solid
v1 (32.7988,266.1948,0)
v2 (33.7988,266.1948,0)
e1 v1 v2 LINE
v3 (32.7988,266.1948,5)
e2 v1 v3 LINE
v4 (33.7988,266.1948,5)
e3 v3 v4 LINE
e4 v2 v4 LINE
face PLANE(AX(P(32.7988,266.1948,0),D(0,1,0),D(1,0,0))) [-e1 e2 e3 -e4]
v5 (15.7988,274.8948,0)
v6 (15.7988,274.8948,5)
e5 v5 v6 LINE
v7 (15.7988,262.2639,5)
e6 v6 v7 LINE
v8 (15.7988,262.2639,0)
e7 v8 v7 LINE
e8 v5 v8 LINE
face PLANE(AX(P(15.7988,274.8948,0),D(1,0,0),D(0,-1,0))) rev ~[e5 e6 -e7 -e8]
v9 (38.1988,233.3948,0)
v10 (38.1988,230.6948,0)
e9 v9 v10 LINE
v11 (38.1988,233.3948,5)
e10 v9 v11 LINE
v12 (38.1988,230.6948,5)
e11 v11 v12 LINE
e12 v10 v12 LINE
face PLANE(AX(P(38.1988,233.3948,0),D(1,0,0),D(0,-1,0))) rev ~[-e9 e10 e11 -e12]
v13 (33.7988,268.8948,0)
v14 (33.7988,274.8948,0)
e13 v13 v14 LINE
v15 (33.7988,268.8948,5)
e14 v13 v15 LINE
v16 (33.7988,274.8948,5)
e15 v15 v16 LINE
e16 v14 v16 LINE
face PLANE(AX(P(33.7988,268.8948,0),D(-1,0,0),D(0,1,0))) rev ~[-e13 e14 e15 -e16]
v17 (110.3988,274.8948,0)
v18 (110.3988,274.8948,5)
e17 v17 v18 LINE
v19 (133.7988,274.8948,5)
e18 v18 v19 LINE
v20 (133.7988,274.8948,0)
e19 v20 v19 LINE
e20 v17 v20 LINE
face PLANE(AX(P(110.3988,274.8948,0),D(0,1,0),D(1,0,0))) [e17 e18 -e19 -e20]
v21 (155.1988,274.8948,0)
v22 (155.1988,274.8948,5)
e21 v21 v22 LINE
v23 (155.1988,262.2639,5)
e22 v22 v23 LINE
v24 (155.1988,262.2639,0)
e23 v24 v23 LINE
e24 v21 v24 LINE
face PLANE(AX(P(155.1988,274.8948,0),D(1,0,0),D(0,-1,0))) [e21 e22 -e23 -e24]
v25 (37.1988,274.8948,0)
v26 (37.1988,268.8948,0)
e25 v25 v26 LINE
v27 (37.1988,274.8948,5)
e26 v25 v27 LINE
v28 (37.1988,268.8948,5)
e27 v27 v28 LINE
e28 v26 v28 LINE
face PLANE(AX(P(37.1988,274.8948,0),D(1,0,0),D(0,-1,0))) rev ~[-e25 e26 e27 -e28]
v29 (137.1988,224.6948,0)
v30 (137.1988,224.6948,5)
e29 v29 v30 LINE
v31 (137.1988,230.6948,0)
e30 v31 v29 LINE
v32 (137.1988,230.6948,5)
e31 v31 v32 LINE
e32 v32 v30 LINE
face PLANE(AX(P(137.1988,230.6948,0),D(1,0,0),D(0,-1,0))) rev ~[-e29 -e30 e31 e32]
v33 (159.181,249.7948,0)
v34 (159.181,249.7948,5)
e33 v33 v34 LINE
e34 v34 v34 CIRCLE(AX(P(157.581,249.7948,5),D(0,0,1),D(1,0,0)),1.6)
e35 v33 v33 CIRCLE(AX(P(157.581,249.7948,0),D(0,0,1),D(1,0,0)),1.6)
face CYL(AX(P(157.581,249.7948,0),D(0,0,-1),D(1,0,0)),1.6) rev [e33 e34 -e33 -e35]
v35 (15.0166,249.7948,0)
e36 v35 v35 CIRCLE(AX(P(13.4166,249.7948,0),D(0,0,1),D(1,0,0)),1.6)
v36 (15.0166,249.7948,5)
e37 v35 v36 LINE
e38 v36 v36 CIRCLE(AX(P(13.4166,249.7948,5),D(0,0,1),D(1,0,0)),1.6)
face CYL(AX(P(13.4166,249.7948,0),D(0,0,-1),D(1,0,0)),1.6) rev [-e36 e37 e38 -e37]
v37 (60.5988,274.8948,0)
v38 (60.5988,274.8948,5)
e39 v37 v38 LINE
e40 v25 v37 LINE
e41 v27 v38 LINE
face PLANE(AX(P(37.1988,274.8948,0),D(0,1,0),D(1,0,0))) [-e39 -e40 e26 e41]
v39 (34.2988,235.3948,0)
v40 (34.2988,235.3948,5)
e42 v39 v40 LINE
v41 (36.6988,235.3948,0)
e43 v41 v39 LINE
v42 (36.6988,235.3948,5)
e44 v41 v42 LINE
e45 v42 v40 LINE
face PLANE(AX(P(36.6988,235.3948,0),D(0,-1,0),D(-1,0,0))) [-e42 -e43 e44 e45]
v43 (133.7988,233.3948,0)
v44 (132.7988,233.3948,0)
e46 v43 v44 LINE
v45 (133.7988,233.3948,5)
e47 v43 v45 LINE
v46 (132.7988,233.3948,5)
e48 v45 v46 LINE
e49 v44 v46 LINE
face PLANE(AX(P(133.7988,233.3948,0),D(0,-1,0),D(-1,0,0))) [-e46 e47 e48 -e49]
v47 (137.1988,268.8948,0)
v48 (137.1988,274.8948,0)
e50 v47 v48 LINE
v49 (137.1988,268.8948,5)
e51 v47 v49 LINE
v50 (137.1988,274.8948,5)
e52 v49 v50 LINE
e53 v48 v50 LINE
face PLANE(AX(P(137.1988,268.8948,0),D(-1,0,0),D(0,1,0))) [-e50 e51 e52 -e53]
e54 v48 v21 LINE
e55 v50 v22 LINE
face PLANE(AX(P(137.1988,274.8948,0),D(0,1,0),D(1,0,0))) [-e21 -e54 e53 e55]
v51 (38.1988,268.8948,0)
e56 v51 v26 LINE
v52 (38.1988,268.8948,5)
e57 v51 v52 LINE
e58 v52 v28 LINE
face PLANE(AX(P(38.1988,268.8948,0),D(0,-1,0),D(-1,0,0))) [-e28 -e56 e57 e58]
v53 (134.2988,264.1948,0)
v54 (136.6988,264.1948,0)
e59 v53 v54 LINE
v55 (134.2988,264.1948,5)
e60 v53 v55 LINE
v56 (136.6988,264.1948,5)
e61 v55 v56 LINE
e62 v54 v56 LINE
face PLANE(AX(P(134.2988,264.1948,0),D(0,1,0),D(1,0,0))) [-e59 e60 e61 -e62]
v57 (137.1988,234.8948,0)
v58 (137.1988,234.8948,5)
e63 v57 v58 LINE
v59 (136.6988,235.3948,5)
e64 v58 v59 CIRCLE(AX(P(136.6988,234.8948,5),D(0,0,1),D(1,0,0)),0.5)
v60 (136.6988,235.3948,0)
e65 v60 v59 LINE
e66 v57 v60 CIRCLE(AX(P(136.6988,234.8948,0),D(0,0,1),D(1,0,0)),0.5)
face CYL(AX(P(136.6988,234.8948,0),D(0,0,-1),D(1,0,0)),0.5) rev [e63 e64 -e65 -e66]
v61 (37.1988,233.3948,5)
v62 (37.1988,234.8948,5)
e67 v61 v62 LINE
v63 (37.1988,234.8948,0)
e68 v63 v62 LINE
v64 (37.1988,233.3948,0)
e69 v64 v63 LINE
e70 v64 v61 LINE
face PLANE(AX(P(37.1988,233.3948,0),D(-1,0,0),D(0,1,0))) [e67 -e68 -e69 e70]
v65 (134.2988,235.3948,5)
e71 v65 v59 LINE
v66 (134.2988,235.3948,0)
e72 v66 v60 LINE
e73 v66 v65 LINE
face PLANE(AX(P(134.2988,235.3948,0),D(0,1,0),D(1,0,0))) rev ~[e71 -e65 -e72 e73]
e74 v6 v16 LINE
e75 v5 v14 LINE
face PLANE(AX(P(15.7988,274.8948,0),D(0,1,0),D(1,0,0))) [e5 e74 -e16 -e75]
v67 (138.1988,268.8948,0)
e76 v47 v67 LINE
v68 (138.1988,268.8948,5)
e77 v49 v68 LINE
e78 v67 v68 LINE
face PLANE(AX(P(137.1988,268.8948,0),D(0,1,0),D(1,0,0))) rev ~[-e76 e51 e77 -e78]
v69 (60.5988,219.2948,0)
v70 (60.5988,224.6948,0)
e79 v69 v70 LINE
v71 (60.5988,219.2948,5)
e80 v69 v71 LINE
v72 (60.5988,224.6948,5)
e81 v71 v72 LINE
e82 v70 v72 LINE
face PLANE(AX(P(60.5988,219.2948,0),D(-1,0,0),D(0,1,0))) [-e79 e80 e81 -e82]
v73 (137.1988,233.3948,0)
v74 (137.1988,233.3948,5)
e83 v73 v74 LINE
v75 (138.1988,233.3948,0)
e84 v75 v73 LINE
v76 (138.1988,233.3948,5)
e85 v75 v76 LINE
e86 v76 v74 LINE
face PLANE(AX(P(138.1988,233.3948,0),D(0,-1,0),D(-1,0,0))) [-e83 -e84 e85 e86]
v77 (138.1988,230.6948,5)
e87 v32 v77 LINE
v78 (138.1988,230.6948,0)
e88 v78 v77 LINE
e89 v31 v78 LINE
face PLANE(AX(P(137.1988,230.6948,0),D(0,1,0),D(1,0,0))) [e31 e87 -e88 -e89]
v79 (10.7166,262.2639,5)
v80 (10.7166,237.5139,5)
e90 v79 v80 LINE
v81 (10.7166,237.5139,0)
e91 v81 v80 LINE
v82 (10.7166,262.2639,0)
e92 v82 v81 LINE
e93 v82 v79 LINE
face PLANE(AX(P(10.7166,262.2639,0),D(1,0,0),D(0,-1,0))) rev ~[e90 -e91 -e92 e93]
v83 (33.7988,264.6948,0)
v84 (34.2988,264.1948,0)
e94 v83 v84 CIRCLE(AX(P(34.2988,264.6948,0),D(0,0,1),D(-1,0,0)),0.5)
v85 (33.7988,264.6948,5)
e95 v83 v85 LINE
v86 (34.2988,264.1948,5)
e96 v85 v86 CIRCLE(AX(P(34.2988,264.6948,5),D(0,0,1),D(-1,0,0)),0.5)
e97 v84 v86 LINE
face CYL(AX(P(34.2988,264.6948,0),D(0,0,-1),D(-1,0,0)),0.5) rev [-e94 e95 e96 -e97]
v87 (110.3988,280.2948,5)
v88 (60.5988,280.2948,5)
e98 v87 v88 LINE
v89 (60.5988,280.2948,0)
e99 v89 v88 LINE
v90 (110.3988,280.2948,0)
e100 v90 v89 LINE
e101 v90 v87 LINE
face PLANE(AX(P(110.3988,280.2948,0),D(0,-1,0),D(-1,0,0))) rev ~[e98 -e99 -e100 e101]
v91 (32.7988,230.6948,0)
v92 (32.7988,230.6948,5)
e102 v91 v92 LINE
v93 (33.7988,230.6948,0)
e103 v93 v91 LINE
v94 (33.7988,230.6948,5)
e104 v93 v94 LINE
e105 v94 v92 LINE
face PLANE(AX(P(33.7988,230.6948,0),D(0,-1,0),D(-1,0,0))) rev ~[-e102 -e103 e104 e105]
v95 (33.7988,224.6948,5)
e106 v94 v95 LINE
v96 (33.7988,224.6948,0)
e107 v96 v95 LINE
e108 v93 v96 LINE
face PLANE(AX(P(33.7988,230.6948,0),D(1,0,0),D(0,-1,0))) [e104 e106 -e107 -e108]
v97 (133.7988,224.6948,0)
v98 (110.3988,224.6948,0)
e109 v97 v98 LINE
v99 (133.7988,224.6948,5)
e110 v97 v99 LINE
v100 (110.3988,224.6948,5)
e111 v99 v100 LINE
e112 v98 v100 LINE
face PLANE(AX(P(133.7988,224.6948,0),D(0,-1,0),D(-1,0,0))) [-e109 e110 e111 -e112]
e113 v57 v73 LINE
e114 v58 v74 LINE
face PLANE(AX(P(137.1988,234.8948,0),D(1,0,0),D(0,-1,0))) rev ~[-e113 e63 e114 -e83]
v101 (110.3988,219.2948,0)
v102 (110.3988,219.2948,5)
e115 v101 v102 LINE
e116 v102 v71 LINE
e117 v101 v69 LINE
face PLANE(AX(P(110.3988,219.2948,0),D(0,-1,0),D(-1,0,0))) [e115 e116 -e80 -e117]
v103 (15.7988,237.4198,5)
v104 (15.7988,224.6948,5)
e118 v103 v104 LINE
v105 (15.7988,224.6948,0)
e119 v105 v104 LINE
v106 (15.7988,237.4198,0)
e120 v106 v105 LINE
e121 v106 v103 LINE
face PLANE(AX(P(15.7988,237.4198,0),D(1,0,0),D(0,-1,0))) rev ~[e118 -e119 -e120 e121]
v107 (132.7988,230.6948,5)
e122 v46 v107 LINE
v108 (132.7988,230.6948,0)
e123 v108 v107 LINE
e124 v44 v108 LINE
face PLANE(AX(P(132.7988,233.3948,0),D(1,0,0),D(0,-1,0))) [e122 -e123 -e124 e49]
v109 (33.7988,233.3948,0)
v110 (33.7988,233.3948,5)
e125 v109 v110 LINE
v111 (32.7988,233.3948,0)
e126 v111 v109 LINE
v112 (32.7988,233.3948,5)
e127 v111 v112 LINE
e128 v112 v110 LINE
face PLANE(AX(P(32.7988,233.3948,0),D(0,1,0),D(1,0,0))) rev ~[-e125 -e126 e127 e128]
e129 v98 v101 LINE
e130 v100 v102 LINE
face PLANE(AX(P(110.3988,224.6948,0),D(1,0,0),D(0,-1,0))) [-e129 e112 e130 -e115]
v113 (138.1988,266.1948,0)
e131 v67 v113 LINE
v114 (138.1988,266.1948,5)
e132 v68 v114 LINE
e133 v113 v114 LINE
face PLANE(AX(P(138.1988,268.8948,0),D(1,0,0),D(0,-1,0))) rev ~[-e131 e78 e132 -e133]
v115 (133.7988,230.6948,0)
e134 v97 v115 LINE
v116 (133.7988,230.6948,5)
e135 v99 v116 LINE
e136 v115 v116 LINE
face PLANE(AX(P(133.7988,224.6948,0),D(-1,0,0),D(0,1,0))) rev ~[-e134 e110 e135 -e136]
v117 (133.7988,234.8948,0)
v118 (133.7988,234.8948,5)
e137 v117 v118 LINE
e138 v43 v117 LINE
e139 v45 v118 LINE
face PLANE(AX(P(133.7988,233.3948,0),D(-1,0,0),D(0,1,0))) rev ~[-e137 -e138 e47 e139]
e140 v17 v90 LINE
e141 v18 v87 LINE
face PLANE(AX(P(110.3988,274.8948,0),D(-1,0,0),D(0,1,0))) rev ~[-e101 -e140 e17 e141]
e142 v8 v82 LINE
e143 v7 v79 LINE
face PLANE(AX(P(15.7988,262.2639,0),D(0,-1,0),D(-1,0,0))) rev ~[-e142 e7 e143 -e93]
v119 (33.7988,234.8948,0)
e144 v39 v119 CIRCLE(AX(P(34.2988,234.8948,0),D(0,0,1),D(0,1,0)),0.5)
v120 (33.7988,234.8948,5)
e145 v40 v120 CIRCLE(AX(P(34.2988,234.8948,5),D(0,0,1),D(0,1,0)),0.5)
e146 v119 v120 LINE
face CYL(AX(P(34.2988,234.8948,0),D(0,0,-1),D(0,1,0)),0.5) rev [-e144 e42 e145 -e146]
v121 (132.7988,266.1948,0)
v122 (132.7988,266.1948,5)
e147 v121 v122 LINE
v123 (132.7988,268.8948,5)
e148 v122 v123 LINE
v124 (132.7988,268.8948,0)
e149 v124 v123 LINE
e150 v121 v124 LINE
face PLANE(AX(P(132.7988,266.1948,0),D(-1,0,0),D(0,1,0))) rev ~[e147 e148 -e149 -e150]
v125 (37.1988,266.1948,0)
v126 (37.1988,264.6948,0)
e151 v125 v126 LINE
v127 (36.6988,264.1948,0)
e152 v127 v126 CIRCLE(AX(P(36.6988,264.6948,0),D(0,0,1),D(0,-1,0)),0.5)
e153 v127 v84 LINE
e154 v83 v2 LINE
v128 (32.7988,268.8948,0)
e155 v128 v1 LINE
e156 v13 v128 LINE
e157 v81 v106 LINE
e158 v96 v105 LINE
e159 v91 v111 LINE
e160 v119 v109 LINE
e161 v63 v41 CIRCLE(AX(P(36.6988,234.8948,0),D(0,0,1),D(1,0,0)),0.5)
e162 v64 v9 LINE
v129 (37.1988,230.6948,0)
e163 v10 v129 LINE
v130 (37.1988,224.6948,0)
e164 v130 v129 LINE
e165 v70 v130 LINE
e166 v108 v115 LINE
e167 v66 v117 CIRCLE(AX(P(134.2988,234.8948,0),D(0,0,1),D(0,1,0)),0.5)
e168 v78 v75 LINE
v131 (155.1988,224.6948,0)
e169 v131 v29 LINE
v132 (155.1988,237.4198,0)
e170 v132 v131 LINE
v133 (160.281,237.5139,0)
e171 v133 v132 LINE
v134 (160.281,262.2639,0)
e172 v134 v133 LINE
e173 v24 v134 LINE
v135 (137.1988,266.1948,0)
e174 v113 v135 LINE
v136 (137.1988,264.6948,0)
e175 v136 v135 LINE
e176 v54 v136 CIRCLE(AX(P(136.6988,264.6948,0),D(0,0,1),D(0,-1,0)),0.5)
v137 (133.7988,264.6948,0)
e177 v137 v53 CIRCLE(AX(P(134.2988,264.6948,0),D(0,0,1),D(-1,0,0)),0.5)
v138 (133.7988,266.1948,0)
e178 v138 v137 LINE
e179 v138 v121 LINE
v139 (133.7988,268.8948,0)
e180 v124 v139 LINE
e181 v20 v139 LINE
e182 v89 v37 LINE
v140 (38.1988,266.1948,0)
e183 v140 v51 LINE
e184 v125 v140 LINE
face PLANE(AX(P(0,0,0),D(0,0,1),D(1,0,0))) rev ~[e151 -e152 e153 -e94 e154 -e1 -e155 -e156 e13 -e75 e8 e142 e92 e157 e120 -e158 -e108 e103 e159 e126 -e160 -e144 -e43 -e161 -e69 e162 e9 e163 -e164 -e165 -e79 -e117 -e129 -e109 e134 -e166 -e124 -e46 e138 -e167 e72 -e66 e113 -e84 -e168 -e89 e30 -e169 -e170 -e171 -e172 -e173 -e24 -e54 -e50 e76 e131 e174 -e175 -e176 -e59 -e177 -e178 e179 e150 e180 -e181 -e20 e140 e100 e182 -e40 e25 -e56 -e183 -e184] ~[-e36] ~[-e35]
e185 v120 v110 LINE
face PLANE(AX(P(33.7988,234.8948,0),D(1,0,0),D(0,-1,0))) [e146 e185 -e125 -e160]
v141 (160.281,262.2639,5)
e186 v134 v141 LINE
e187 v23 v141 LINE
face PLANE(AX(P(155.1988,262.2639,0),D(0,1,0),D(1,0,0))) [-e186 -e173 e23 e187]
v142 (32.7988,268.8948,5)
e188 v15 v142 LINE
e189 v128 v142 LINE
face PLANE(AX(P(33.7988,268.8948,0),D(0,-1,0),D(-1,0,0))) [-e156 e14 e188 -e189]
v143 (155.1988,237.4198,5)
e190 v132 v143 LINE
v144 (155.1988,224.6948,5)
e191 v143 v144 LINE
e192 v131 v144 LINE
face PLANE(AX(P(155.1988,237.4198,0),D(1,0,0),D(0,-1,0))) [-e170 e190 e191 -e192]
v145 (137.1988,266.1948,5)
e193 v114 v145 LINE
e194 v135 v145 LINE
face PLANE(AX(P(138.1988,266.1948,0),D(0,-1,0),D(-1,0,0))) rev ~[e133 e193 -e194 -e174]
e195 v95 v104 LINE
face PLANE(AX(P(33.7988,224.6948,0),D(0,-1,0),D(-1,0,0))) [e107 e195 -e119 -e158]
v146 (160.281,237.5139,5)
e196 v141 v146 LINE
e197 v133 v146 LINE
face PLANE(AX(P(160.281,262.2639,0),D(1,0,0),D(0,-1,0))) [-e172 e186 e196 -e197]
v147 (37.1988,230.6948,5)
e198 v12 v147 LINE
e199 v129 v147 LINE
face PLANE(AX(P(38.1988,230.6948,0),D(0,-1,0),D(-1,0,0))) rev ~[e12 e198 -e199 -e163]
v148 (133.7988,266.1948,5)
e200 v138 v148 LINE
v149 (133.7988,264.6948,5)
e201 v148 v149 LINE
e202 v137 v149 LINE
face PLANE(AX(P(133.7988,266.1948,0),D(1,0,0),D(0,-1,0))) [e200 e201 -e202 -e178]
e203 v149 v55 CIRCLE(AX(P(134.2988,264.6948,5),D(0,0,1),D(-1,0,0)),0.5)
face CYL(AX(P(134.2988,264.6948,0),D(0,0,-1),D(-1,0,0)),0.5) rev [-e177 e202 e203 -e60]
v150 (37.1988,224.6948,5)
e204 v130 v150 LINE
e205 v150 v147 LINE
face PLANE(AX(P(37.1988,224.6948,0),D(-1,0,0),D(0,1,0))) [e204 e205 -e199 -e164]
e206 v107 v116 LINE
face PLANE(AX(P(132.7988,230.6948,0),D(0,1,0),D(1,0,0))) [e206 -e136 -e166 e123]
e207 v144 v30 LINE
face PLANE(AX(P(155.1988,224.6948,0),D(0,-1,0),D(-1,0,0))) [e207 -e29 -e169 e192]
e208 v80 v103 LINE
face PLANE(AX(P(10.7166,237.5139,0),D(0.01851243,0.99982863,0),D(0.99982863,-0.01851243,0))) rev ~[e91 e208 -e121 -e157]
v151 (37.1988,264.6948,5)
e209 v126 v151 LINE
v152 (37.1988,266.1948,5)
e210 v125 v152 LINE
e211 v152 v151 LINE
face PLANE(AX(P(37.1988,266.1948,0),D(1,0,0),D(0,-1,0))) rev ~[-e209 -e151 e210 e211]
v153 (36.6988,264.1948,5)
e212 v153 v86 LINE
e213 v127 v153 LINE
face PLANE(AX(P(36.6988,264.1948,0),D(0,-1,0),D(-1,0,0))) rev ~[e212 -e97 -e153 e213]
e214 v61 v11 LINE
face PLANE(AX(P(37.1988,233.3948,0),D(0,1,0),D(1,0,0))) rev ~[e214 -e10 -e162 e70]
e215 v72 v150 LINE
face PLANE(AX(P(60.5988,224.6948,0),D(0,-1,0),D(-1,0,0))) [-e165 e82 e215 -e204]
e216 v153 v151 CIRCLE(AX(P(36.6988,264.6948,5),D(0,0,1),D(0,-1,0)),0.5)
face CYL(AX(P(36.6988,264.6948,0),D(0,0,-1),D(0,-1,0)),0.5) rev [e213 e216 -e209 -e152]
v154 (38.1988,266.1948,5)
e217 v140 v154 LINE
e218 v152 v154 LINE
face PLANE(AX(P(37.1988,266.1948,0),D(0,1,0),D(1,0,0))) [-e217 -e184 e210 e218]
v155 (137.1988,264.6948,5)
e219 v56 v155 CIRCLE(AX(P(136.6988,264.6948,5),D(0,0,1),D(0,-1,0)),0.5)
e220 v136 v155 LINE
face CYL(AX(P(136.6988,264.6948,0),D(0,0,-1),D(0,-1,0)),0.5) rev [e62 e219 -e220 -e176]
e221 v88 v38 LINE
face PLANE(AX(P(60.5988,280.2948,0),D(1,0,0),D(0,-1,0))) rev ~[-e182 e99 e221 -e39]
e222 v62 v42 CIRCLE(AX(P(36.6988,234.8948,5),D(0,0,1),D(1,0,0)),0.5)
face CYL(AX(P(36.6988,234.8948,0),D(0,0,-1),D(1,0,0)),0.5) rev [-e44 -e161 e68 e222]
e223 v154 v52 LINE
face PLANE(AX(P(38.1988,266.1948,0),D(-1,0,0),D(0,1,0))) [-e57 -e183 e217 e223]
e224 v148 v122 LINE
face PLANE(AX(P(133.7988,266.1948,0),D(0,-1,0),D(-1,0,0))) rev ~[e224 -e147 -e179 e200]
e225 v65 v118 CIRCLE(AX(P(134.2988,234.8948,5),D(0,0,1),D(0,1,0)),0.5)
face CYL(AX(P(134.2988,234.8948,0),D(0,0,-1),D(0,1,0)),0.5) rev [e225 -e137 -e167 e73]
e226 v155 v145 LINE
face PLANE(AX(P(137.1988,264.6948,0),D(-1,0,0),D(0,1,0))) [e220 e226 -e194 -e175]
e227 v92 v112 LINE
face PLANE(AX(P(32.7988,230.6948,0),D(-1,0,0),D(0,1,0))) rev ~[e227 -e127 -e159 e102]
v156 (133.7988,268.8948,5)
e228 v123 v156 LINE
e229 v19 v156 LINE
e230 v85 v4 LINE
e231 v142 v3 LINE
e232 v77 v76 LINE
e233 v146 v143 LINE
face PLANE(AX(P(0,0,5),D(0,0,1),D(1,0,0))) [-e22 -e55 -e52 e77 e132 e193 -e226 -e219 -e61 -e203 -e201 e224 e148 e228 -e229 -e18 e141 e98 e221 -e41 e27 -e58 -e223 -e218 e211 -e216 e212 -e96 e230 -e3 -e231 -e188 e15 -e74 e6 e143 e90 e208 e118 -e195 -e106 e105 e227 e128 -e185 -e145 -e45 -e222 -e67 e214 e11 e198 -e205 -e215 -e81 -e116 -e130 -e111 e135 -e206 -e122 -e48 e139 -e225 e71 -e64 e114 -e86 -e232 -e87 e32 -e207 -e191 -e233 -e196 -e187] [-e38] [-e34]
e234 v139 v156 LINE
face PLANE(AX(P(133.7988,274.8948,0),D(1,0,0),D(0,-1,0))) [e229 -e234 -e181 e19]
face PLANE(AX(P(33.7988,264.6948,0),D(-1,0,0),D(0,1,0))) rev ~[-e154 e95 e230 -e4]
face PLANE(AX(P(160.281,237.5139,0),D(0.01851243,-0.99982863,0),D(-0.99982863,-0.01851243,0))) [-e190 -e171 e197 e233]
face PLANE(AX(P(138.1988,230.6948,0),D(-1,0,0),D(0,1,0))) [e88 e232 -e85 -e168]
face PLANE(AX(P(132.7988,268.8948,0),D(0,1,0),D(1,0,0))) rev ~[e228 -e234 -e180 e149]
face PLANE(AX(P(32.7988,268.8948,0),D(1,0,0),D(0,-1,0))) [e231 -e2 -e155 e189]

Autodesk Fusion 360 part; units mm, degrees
sketch "Esquisse1" plane through (0, 0, 0) normal (0, 0, 1) x (1, 0, 0)
  line L0 (15.7988, 249.7948) -> (43.7076, 249.7948) construction
  line L1 (15.7988, 262.2639) -> (10.7166, 262.2639)
  line L2 (10.7166, 262.2639) -> (10.7166, 237.5139)
  line L3 (10.7166, 237.5139) -> (15.7988, 237.4198)
  line L4 (15.7988, 274.8948) -> (15.7988, 262.2639)
  line L5 (15.7988, 237.4198) -> (15.7988, 224.6948)
  line L6 (110.3988, 274.8948) -> (110.3988, 280.2948)
  line L7 (110.3988, 280.2948) -> (60.5988, 280.2948)
  line L8 (60.5988, 280.2948) -> (60.5988, 274.8948)
  line L9 (15.7988, 274.8948) -> (60.5988, 274.8948)
  line L10 (110.3988, 274.8948) -> (155.1988, 274.8948)
  line L11 (110.3988, 224.6948) -> (110.3988, 219.2948)
  line L12 (110.3988, 219.2948) -> (60.5988, 219.2948)
  line L13 (60.5988, 219.2948) -> (60.5988, 224.6948)
  line L14 (155.1988, 224.6948) -> (110.3988, 224.6948)
  line L15 (60.5988, 224.6948) -> (15.7988, 224.6948)
  line L16 (85.4988, 283.8421) -> (85.4988, 207.6137) construction
  line L17 (155.1988, 262.2639) -> (160.281, 262.2639)
  line L18 (160.281, 262.2639) -> (160.281, 237.5139)
  line L19 (160.281, 237.5139) -> (155.1988, 237.4198)
  line L20 (155.1988, 274.8948) -> (155.1988, 262.2639)
  line L21 (155.1988, 237.4198) -> (155.1988, 224.6948)
  circle A0 centre (13.4166, 249.7948) radius 1.6
  circle A1 centre (157.581, 249.7948) radius 1.6
  line L22 (33.7988, 274.8948) -> (37.1988, 274.8948)
  line L23 (37.1988, 274.8948) -> (37.1988, 268.8948)
  line L24 (33.7988, 268.8948) -> (33.7988, 274.8948)
  line L25 (35.4988, 277) -> (35.4988, 258) construction
  line L26 (32.7988, 268.8948) -> (32.7988, 266.1948)
  line L27 (38.1988, 266.1948) -> (38.1988, 268.8948)
  line L28 (37.1988, 266.1948) -> (37.1988, 264.6948)
  line L29 (36.6988, 264.1948) -> (34.2988, 264.1948)
  line L30 (33.7988, 264.6948) -> (33.7988, 266.1948)
  arc A2 (33.7988, 264.6948) -> (34.2988, 264.1948) centre (34.2988, 264.6948) ccw
  arc A3 (36.6988, 264.1948) -> (37.1988, 264.6948) centre (36.6988, 264.6948) ccw
  line L31 (32.7988, 266.1948) -> (33.7988, 266.1948)
  line L32 (37.1988, 266.1948) -> (38.1988, 266.1948)
  line L33 (38.1988, 268.8948) -> (37.1988, 268.8948)
  line L34 (33.7988, 268.8948) -> (32.7988, 268.8948)
  line L35 (33.7988, 234.8948) -> (33.7988, 233.3948)
  line L36 (37.1988, 233.3948) -> (38.1988, 233.3948)
  line L37 (38.1988, 233.3948) -> (38.1988, 230.6948)
  arc A4 (34.2988, 235.3948) -> (33.7988, 234.8948) centre (34.2988, 234.8948) ccw
  line L38 (32.7988, 230.6948) -> (32.7988, 233.3948)
  arc A5 (37.1988, 234.8948) -> (36.6988, 235.3948) centre (36.6988, 234.8948) ccw
  line L39 (36.6988, 235.3948) -> (34.2988, 235.3948)
  line L40 (37.1988, 233.3948) -> (37.1988, 234.8948)
  line L41 (32.7988, 233.3948) -> (33.7988, 233.3948)
  line L42 (33.7988, 230.6948) -> (32.7988, 230.6948)
  line L43 (38.1988, 230.6948) -> (37.1988, 230.6948)
  line L44 (33.7988, 230.6948) -> (33.7988, 224.6948)
  line L45 (37.1988, 224.6948) -> (37.1988, 230.6948)
  line L46 (138.1988, 268.8948) -> (138.1988, 266.1948)
  line L47 (137.1988, 230.6948) -> (138.1988, 230.6948)
  line L48 (133.7988, 233.3948) -> (133.7988, 234.8948)
  line L49 (132.7988, 268.8948) -> (133.7988, 268.8948)
  line L50 (138.1988, 233.3948) -> (137.1988, 233.3948)
  line L51 (132.7988, 266.1948) -> (132.7988, 268.8948)
  line L52 (133.7988, 266.1948) -> (133.7988, 264.6948)
  line L53 (133.7988, 266.1948) -> (132.7988, 266.1948)
  line L54 (132.7988, 233.3948) -> (132.7988, 230.6948)
  line L55 (137.1988, 268.8948) -> (138.1988, 268.8948)
  line L56 (137.1988, 234.8948) -> (137.1988, 233.3948)
  line L57 (138.1988, 230.6948) -> (138.1988, 233.3948)
  line L58 (134.2988, 264.1948) -> (136.6988, 264.1948)
  arc A6 (134.2988, 235.3948) -> (133.7988, 234.8948) centre (134.2988, 234.8948) ccw
  arc A7 (137.1988, 234.8948) -> (136.6988, 235.3948) centre (136.6988, 234.8948) ccw
  line L59 (132.7988, 230.6948) -> (133.7988, 230.6948)
  line L60 (138.1988, 266.1948) -> (137.1988, 266.1948)
  line L61 (137.1988, 264.6948) -> (137.1988, 266.1948)
  arc A8 (136.6988, 264.1948) -> (137.1988, 264.6948) centre (136.6988, 264.6948) ccw
  line L62 (134.2988, 235.3948) -> (136.6988, 235.3948)
  arc A9 (133.7988, 264.6948) -> (134.2988, 264.1948) centre (134.2988, 264.6948) ccw
  line L63 (133.7988, 233.3948) -> (132.7988, 233.3948)
  line L64 (137.1988, 230.6948) -> (137.1988, 224.6948)
  line L65 (133.7988, 224.6948) -> (133.7988, 230.6948)
  line L66 (137.1988, 268.8948) -> (137.1988, 274.8948)
  line L67 (133.7988, 274.8948) -> (133.7988, 268.8948)
  point P0 (155.1988, 249.7948)
  point P1 (33.7988, 264.1948)
  point P2 (33.7988, 235.3948)
  point P3 (127.2901, 249.7948)
  point P4 (137.1988, 235.3948)
  point P5 (135.4988, 258)
  point P6 (137.1988, 264.1948)
  dimension "d99" = 139.4
  dimension "d100" = 49.8
  dimension "d101" = 44.8
  dimension "d102" = 5.4
  dimension "d103" = 69.7
  dimension "d104" = 24.75
  dimension "d105" = 50.2
  dimension "d106" = 12.725
  dimension "d107" = 3.2
  dimension "d109" = 2.7
  dimension "d110" = 6
  dimension "d111" = 3.4
  dimension "d113" = 1.7
  dimension "d114" = 5.4
  dimension "d115" = 2.7
  dimension "d116" = 2.7
  dimension "d117" = 3.4
  dimension "d118" = 1.7
  dimension "d119" = 2
  dimension "d120" = 0.5
  dimension "d121" = 25.1
extrude "Extrusion1" add sketch "Esquisse1" along normal blind 5 contours L1 L2 L3 L4 L5 L6 L7 L8 L9 L10 L11 L12 L13 L14 L15 L17 L18 L19 L20 L21 L23 L24 L26 L27 L28 L29 L30 A2 A3 L31 L32 L33 L34 L35 L36 L37 A4 L38 A5 L39 L40 L41 L42 L43 L44 L45 L46 L47 L48 L49 L50 L51 L52 L53 L54 L55 L56 L57 L58 A6 A7 L59 L60 L61 A8 L62 A9 L63 L64 L65 L66 L67
equation "d84 = 5.3 mm + 0.1 mm"
equation "d87 = 36 mm - 0.2 mm"
equation "d88 = 36 mm + 0.1 mm"
equation "d101 = ( d99 - d100 ) / 2"
equation "d103 = d99 / 2"
equation "d106 = ( d105 - d104 ) / 2"
equation "d109 = d102 / 2"
equation "d113 = d111 / 2"
equation "d116 = d114 / 2"
equation "d117 = d111"
equation "d118 = d117 / 2"
